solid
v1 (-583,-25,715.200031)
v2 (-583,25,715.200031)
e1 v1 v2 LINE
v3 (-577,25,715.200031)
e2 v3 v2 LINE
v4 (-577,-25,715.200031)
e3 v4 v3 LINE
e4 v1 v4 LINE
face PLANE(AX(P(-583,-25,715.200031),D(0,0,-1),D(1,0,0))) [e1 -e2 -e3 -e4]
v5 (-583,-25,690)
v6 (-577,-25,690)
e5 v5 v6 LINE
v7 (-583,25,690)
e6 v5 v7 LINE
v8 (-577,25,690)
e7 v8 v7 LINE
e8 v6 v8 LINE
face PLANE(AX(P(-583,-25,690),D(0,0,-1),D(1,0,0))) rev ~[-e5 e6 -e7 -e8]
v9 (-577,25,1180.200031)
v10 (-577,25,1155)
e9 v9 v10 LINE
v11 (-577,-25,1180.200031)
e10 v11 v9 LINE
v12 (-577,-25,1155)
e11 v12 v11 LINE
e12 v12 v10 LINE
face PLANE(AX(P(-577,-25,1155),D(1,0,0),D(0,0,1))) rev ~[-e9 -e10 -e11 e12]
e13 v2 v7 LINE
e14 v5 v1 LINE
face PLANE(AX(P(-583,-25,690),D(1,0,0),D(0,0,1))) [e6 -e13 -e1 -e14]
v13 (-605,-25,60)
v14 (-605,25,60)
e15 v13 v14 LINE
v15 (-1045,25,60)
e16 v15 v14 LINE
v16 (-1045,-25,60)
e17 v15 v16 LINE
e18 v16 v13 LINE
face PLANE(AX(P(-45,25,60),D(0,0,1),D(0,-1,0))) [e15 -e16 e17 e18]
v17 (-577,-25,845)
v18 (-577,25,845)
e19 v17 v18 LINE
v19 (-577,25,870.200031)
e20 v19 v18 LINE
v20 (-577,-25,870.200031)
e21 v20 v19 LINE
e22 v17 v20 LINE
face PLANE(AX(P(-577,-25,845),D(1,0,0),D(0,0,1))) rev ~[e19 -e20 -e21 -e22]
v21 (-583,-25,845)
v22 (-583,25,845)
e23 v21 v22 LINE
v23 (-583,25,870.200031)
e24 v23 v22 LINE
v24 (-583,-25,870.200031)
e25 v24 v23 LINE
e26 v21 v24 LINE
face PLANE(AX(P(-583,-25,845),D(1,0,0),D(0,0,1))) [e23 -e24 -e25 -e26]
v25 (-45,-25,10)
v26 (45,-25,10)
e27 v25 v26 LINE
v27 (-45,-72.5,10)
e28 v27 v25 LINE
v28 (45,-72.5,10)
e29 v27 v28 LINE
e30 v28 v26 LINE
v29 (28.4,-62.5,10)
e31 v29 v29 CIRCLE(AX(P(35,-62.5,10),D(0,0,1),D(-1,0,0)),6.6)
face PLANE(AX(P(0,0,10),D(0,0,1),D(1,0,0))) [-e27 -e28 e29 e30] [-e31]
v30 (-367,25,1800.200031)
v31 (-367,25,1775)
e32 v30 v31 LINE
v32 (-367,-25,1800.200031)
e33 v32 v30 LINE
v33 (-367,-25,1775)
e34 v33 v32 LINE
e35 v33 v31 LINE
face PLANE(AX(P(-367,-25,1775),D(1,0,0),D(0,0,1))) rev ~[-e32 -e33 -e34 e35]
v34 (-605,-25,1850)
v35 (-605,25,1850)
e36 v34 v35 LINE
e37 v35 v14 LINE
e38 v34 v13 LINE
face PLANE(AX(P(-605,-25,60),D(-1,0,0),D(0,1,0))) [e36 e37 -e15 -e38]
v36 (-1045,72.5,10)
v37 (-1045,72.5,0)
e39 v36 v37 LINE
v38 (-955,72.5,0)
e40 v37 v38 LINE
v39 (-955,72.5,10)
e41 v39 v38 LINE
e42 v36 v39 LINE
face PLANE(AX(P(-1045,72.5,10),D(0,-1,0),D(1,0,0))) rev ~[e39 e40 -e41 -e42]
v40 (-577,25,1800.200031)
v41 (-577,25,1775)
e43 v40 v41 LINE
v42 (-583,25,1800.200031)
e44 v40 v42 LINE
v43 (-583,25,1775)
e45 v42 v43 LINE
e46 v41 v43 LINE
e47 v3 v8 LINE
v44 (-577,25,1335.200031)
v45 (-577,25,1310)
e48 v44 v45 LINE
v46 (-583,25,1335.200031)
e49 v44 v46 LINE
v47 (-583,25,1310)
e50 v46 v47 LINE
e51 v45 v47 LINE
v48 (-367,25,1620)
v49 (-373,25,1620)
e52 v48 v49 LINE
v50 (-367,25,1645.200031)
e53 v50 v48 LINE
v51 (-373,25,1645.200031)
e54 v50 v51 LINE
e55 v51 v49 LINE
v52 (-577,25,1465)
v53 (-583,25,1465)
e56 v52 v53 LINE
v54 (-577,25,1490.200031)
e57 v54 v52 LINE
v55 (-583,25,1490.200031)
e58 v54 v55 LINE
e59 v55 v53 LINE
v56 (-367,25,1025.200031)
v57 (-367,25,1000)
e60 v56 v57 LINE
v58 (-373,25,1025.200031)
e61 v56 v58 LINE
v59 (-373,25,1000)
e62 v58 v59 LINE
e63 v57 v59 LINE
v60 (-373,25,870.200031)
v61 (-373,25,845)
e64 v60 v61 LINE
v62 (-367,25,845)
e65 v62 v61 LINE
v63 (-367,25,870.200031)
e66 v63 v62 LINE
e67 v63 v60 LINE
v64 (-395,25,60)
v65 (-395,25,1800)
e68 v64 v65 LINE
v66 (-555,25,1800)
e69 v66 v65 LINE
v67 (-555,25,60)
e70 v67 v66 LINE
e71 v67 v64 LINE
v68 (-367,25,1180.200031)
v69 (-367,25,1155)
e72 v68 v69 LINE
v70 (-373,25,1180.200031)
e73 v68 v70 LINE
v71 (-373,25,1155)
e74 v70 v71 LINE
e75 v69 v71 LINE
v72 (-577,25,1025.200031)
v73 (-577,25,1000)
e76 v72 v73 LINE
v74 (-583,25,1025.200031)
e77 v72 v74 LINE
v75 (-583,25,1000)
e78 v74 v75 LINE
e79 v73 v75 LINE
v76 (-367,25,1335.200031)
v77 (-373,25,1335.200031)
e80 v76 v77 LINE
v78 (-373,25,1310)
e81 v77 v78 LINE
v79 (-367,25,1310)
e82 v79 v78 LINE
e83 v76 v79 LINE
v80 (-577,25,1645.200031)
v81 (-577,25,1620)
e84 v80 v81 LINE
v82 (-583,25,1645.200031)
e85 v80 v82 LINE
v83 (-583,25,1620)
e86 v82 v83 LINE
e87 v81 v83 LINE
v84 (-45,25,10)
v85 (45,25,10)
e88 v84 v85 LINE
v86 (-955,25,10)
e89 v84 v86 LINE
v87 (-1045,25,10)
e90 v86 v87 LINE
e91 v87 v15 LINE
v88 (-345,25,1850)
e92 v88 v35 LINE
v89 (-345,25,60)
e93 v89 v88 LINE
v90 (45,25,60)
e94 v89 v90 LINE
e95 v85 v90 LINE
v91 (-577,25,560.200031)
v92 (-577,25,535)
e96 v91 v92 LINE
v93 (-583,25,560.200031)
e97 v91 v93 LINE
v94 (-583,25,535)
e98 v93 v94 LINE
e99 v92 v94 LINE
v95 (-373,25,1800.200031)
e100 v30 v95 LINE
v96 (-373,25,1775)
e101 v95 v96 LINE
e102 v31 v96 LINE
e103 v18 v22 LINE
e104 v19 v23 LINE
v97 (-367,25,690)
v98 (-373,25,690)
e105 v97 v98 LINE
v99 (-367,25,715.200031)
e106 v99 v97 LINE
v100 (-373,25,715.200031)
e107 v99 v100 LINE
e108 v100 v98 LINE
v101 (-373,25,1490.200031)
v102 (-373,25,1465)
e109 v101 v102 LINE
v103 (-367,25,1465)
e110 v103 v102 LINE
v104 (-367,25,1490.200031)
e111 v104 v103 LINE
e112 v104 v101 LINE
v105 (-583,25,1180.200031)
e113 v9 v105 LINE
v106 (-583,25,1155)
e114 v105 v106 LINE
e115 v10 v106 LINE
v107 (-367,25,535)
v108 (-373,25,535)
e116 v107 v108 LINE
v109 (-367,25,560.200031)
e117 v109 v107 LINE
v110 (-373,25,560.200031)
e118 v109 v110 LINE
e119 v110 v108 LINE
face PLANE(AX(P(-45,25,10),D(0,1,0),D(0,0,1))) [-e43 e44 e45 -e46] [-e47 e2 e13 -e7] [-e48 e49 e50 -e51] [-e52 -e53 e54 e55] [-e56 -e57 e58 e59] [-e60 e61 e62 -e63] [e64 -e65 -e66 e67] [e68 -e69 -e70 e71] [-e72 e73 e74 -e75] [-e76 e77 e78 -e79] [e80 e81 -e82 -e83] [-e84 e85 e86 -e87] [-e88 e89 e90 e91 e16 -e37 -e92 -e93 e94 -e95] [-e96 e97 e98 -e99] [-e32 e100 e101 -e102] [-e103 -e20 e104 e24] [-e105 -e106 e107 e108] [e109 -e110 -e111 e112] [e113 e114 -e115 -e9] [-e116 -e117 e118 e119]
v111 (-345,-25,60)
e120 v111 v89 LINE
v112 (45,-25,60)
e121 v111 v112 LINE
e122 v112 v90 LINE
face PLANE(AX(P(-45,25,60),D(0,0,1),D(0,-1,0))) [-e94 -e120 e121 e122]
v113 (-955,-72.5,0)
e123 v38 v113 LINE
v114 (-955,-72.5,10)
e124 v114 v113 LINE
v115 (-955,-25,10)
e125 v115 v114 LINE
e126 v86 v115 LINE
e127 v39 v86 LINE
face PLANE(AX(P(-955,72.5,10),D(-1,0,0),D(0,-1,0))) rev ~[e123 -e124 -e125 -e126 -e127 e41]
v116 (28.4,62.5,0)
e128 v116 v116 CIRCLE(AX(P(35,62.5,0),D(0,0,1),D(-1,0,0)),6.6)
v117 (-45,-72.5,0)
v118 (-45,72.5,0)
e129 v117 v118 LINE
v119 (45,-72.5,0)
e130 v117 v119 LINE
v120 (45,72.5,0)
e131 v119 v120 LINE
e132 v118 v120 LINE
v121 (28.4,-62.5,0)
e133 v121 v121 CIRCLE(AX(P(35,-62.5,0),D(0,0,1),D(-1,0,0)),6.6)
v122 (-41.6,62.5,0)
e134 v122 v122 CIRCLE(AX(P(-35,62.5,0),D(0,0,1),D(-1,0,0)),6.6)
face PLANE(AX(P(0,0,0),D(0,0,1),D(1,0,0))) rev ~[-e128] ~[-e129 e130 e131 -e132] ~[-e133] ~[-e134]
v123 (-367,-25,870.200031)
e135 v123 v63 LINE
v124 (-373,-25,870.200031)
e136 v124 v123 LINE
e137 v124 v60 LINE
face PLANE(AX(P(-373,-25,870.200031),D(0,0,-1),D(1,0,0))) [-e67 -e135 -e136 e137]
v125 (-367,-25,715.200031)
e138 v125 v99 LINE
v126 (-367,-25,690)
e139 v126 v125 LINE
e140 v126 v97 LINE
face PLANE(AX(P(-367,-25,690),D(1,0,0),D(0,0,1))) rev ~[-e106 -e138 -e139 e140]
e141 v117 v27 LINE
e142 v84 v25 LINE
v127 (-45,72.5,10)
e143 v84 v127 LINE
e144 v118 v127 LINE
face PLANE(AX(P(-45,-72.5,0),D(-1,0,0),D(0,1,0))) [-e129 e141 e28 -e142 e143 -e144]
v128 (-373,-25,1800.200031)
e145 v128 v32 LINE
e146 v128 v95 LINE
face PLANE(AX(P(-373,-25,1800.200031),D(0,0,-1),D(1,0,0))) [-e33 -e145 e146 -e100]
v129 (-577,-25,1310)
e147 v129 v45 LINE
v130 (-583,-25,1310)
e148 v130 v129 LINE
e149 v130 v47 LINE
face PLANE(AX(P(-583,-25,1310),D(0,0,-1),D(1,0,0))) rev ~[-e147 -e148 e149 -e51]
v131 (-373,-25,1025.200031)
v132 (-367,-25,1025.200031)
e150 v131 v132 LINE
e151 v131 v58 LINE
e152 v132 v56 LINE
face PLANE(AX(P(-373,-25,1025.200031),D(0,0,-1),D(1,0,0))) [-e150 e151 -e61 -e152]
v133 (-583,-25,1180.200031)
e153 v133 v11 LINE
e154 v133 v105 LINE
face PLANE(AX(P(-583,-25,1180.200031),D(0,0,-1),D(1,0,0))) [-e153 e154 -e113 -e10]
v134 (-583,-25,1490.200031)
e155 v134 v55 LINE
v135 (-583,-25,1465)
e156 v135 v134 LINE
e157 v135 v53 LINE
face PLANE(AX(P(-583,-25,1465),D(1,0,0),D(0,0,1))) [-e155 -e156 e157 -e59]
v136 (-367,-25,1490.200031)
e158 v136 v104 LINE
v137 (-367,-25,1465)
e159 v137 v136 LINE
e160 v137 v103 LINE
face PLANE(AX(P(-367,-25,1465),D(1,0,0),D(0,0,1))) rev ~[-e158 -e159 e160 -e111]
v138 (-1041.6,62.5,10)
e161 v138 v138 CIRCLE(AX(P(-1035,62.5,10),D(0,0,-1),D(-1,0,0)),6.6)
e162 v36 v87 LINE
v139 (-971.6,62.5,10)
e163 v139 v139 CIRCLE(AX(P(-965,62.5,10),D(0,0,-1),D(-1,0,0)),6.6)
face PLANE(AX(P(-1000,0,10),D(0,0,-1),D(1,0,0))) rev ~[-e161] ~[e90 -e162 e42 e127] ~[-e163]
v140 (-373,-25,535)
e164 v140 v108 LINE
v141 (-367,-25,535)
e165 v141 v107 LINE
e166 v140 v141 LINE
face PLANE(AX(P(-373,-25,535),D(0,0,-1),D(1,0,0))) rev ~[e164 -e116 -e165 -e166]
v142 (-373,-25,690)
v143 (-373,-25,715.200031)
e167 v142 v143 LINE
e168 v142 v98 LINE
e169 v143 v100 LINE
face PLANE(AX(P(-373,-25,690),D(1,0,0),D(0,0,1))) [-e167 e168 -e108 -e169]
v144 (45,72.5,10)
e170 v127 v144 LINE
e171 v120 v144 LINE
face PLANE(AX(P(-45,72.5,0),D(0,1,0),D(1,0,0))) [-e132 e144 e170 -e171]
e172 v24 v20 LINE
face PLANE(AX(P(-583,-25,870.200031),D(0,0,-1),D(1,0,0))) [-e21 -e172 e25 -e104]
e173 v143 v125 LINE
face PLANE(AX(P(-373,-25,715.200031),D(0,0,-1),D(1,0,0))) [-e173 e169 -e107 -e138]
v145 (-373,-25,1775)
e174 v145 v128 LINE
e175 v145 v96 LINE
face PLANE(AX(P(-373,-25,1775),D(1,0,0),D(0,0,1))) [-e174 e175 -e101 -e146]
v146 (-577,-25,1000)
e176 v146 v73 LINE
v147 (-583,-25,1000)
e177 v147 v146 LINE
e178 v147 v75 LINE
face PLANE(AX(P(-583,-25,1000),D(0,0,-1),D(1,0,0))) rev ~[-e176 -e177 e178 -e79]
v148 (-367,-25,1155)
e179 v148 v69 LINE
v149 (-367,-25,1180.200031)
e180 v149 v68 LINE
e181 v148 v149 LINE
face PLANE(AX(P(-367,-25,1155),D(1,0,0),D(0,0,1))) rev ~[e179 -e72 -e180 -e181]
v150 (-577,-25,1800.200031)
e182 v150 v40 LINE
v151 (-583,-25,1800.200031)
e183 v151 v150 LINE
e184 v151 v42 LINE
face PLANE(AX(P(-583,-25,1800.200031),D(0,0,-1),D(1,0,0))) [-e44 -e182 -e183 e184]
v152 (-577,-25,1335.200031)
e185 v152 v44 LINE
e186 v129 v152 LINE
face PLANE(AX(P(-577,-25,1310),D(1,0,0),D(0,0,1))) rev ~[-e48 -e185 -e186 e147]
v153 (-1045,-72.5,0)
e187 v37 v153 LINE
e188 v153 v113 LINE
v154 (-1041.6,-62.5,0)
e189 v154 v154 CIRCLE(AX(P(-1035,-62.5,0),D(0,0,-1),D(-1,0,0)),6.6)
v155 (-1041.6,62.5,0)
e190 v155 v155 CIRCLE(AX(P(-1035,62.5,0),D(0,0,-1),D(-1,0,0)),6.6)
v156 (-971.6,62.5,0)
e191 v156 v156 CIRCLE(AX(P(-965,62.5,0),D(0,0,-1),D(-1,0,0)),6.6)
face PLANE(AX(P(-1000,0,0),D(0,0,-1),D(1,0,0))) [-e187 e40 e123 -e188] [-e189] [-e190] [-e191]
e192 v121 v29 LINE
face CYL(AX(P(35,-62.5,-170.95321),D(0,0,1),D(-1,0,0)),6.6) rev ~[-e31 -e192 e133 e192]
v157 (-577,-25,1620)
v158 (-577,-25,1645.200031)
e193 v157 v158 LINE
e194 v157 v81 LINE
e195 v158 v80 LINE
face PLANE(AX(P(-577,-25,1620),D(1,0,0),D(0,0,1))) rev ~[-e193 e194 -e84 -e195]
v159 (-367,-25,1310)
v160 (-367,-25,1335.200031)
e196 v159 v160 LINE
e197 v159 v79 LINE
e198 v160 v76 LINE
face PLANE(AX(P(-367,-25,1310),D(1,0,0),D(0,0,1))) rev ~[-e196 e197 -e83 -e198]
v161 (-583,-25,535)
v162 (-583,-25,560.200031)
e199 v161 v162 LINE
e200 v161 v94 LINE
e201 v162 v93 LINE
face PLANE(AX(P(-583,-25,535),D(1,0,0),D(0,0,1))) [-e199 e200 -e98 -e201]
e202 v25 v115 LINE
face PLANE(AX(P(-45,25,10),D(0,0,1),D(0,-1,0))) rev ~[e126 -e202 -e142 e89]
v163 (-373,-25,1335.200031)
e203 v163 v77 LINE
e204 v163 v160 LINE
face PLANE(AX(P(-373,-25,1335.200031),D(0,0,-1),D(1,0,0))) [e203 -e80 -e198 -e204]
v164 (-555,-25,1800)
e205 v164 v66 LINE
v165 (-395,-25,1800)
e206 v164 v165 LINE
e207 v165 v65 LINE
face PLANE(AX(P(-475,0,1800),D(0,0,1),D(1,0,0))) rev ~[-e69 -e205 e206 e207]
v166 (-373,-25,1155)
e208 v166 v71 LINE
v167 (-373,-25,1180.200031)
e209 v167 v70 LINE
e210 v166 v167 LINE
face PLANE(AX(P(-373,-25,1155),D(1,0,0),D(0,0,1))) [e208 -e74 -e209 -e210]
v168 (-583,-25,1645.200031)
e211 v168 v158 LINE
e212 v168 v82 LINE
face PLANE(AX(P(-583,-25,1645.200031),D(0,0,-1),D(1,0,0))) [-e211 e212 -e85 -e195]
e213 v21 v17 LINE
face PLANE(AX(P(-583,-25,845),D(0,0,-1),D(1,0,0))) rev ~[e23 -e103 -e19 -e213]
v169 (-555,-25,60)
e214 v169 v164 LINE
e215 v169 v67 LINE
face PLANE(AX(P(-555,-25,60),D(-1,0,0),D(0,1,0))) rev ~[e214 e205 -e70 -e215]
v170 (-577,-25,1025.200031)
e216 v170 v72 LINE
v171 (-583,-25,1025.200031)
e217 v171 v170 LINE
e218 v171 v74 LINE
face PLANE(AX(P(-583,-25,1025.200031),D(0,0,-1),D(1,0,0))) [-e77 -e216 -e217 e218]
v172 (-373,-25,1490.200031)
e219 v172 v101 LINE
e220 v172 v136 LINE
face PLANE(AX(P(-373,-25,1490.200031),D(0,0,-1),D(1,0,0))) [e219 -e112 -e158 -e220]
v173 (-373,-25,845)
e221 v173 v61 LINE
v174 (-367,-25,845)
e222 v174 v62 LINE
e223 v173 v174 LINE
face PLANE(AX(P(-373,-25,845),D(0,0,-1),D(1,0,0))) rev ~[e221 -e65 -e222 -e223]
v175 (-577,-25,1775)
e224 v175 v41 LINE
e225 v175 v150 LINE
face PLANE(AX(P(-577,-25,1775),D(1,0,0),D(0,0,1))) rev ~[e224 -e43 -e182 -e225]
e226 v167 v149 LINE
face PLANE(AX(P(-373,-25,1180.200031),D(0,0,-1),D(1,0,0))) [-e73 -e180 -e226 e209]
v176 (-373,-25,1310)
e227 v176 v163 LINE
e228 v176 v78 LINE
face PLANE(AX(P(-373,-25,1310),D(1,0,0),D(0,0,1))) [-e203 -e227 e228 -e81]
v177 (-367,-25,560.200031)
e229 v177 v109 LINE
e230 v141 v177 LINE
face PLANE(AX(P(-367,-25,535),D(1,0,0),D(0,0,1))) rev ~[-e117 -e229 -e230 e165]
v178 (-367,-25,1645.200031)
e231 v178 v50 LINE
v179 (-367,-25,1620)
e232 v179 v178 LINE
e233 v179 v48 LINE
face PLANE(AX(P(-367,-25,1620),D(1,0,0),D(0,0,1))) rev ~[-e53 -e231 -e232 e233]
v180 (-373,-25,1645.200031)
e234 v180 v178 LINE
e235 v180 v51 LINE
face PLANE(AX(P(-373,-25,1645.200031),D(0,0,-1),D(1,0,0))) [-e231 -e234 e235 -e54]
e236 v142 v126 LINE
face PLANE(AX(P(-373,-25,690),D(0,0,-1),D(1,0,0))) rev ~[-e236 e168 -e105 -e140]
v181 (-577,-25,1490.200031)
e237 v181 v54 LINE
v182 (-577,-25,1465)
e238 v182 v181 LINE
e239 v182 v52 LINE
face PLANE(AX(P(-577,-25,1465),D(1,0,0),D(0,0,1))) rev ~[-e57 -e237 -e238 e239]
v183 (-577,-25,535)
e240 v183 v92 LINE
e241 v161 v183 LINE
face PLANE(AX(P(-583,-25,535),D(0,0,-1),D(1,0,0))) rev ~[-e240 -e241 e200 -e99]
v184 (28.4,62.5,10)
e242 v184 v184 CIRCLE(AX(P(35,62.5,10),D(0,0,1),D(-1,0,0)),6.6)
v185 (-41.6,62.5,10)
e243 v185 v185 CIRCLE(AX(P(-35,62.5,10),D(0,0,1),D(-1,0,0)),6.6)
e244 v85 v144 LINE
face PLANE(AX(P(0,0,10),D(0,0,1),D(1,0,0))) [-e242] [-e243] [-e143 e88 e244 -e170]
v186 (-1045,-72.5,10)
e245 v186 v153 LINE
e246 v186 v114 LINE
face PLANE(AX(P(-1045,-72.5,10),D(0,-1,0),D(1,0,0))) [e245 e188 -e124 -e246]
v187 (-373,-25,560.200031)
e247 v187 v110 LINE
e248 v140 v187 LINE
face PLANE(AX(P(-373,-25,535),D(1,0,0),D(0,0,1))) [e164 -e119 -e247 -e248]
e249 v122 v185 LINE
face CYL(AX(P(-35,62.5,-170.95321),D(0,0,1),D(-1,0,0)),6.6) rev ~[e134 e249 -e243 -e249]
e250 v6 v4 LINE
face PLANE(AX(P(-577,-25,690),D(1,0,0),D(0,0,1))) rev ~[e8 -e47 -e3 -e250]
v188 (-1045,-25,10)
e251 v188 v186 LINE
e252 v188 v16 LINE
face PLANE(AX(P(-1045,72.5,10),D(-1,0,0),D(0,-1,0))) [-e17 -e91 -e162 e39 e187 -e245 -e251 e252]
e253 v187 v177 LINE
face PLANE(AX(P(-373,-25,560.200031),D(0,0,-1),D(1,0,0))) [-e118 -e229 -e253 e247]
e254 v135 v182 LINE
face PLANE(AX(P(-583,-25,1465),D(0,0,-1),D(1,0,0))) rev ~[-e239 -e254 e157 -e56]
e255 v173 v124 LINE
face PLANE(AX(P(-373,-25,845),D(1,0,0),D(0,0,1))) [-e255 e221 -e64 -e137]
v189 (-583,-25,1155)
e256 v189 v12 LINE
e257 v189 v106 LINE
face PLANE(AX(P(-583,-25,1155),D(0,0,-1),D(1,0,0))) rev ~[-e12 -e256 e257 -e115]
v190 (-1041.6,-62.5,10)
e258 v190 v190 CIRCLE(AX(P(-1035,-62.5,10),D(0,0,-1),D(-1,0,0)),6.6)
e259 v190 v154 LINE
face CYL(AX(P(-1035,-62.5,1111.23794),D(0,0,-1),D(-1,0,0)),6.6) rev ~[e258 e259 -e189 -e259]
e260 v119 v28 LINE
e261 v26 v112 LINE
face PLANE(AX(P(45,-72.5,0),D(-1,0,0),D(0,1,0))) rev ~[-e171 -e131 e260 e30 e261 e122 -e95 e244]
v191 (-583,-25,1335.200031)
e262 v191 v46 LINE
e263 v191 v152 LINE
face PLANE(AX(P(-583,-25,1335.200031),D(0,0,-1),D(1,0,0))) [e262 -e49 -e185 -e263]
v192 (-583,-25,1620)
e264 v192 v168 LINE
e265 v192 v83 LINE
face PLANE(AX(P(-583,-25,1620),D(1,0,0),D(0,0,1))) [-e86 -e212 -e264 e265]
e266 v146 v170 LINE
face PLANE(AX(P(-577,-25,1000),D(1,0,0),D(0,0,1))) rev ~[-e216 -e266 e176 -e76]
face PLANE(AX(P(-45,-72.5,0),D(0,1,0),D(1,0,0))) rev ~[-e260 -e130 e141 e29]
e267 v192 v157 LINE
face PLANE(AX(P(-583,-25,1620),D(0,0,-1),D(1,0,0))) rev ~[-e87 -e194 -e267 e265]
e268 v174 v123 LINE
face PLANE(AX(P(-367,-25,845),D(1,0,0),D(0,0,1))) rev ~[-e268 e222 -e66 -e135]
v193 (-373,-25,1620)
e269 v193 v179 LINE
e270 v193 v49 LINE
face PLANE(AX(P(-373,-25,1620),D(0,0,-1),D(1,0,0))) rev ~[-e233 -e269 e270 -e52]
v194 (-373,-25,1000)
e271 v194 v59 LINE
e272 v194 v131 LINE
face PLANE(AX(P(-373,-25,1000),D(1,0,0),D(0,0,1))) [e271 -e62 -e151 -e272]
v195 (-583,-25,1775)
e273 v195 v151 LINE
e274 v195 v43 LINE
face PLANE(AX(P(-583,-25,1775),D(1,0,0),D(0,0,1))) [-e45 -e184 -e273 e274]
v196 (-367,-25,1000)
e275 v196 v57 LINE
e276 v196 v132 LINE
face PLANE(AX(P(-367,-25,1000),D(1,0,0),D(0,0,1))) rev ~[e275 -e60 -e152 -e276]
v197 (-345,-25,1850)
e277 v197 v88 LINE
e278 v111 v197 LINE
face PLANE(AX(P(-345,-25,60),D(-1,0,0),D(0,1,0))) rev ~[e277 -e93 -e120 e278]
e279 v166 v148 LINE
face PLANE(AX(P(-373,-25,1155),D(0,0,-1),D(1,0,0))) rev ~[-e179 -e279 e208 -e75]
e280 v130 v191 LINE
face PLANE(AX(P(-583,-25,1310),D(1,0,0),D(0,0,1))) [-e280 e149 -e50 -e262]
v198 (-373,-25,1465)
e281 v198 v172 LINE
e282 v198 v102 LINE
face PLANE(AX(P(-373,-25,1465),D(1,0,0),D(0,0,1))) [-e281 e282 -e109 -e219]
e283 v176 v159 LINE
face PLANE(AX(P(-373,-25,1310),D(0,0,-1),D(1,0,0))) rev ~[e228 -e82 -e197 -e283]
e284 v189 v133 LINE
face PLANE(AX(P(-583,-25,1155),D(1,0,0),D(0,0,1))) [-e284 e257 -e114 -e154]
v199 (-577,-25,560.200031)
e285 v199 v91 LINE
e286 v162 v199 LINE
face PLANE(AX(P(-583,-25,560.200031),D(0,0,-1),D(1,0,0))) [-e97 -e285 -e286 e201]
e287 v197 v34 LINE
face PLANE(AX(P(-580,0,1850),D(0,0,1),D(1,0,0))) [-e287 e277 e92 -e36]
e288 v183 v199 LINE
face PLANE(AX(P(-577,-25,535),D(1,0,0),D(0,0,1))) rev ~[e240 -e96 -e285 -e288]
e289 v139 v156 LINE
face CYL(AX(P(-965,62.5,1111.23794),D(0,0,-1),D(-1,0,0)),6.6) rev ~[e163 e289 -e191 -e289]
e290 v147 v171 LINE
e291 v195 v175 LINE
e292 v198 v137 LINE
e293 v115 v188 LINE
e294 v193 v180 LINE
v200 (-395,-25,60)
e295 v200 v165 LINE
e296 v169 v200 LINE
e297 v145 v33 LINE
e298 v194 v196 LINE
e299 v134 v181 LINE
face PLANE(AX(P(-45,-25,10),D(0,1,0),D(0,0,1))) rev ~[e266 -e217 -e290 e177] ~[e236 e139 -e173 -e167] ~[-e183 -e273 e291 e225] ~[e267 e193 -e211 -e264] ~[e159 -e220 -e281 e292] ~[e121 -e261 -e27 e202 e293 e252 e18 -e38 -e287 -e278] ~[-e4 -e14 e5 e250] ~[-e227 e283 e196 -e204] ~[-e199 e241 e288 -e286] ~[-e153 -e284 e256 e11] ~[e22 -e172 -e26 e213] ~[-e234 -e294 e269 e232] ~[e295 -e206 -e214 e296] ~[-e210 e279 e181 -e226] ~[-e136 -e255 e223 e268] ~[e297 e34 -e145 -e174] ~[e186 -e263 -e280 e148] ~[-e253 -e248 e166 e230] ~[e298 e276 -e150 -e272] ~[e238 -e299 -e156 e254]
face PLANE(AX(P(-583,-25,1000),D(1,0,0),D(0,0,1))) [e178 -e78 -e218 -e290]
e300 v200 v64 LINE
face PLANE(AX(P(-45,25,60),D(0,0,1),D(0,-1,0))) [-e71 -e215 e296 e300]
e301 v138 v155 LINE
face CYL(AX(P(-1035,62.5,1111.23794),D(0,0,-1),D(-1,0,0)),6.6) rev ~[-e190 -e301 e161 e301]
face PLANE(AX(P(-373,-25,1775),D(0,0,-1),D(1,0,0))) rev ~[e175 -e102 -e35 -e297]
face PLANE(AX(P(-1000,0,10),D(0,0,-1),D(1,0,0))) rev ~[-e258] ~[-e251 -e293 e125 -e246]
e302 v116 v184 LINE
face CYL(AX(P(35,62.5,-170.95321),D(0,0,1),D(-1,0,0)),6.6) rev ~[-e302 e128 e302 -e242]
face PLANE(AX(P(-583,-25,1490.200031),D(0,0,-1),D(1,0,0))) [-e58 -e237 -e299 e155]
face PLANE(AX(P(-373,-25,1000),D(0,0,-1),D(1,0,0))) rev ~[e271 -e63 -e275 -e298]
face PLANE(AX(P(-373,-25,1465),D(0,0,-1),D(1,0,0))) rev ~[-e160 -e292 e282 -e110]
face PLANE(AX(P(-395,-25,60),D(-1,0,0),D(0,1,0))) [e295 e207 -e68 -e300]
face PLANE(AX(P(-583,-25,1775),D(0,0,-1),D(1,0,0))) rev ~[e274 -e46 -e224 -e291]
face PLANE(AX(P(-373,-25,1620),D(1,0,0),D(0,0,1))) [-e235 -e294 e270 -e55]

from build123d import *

# Parameters (mm, degrees)
F0_W      = 90
F0_H      = 145
F1_DEPTH  = 10
F3_D      = 13.2
F4_W      = 90
F4_H      = 50
F5_DEPTH  = 50
F6_W      = 50
F6_H      = 50
F7_DEPTH  = 1000
F8_W      = 90
F8_H      = 145
F9_DEPTH  = 10
F11_D     = 13.2
F12_W     = 50
F12_H     = 50
F13_DEPTH = 1790
F14_W     = 260
F14_H     = 50
F15_DEPTH = 50
F16_W     = 6
F16_H     = 25.2000307604
F17_DEPTH = 97.501


with BuildPart() as f1:
    # F0 (on Top) → F1 (new body)
    with BuildSketch(Plane.XY):
        Rectangle(F0_W, F0_H)
    extrude(amount=F1_DEPTH)

    # F3 (through all)
    with Locations(Plane(origin=(0, 0, 0), x_dir=(1, 0, 0), z_dir=(0, 0, -1))):
        with Locations((35, -62.5), (35, 62.5), (-35, -62.5)):
            Hole(F3_D / 2)

    # F4 (on face) → F5 (join)
    with BuildSketch(Plane.XY.offset(10)):
        Rectangle(F4_W, F4_H)
    extrude(amount=F5_DEPTH)

    # F6 (on face) → F7 (join)
    with BuildSketch(Plane(origin=(-45, 0, 0), x_dir=(0, -1, 0), z_dir=(-1, 0, 0))):
        with Locations((0, 35)):
            Rectangle(F6_W, F6_H)
    extrude(amount=F7_DEPTH)

    # F8 (on face) → F9 (join)
    with BuildSketch(Plane(origin=(0, 0, 10), x_dir=(1, 0, 0), z_dir=(0, 0, -1))):
        with Locations((-1000, 0)):
            Rectangle(F8_W, F8_H)
    extrude(amount=F9_DEPTH)

    # F11 (through all)
    with Locations(Plane.XY.offset(10)):
        with Locations((-965, 62.5), (-1035, -62.5), (-1035, 62.5)):
            Hole(F11_D / 2)

    # F12 (on face) → F13 (join)
    with BuildSketch(Plane.XY.offset(60)):
        with Locations((-370, 0)):
            Rectangle(F12_W, F12_H)
        with Locations((-580, 0)):
            Rectangle(F12_W, F12_H)
    extrude(amount=F13_DEPTH)

    # F14 (on face) → F15 (join)
    with BuildSketch(Plane.XY.offset(1850)):
        with Locations((-475, 0)):
            Rectangle(F14_W, F14_H)
    extrude(amount=-F15_DEPTH)

    # F16 (on face) → F17 (cut, through all)
    with BuildSketch(Plane.XZ.offset(25)):
        with Locations((-370, 547.6000153802)):
            Rectangle(F16_W, F16_H)
        with Locations((-370, 702.6000153802)):
            Rectangle(F16_W, F16_H)
        with Locations((-370, 857.6000153802)):
            Rectangle(F16_W, F16_H)
        with Locations((-370, 1012.6000153802)):
            Rectangle(F16_W, F16_H)
        with Locations((-370, 1167.6000153802)):
            Rectangle(F16_W, F16_H)
        with Locations((-370, 1322.6000153802)):
            Rectangle(F16_W, F16_H)
        with Locations((-370, 1477.6000153802)):
            Rectangle(F16_W, F16_H)
        with Locations((-370, 1632.6000153802)):
            Rectangle(F16_W, F16_H)
        with Locations((-370, 1787.6000153802)):
            Rectangle(F16_W, F16_H)
        with Locations((-580, 547.6000153802)):
            Rectangle(F16_W, F16_H)
        with Locations((-580, 702.6000153802)):
            Rectangle(F16_W, F16_H)
        with Locations((-580, 857.6000153802)):
            Rectangle(F16_W, F16_H)
        with Locations((-580, 1012.6000153802)):
            Rectangle(F16_W, F16_H)
        with Locations((-580, 1167.6000153802)):
            Rectangle(F16_W, F16_H)
        with Locations((-580, 1322.6000153802)):
            Rectangle(F16_W, F16_H)
        with Locations((-580, 1477.6000153802)):
            Rectangle(F16_W, F16_H)
        with Locations((-580, 1632.6000153802)):
            Rectangle(F16_W, F16_H)
        with Locations((-580, 1787.6000153802)):
            Rectangle(F16_W, F16_H)
    extrude(amount=-F17_DEPTH, mode=Mode.SUBTRACT)


solid = f1.part
